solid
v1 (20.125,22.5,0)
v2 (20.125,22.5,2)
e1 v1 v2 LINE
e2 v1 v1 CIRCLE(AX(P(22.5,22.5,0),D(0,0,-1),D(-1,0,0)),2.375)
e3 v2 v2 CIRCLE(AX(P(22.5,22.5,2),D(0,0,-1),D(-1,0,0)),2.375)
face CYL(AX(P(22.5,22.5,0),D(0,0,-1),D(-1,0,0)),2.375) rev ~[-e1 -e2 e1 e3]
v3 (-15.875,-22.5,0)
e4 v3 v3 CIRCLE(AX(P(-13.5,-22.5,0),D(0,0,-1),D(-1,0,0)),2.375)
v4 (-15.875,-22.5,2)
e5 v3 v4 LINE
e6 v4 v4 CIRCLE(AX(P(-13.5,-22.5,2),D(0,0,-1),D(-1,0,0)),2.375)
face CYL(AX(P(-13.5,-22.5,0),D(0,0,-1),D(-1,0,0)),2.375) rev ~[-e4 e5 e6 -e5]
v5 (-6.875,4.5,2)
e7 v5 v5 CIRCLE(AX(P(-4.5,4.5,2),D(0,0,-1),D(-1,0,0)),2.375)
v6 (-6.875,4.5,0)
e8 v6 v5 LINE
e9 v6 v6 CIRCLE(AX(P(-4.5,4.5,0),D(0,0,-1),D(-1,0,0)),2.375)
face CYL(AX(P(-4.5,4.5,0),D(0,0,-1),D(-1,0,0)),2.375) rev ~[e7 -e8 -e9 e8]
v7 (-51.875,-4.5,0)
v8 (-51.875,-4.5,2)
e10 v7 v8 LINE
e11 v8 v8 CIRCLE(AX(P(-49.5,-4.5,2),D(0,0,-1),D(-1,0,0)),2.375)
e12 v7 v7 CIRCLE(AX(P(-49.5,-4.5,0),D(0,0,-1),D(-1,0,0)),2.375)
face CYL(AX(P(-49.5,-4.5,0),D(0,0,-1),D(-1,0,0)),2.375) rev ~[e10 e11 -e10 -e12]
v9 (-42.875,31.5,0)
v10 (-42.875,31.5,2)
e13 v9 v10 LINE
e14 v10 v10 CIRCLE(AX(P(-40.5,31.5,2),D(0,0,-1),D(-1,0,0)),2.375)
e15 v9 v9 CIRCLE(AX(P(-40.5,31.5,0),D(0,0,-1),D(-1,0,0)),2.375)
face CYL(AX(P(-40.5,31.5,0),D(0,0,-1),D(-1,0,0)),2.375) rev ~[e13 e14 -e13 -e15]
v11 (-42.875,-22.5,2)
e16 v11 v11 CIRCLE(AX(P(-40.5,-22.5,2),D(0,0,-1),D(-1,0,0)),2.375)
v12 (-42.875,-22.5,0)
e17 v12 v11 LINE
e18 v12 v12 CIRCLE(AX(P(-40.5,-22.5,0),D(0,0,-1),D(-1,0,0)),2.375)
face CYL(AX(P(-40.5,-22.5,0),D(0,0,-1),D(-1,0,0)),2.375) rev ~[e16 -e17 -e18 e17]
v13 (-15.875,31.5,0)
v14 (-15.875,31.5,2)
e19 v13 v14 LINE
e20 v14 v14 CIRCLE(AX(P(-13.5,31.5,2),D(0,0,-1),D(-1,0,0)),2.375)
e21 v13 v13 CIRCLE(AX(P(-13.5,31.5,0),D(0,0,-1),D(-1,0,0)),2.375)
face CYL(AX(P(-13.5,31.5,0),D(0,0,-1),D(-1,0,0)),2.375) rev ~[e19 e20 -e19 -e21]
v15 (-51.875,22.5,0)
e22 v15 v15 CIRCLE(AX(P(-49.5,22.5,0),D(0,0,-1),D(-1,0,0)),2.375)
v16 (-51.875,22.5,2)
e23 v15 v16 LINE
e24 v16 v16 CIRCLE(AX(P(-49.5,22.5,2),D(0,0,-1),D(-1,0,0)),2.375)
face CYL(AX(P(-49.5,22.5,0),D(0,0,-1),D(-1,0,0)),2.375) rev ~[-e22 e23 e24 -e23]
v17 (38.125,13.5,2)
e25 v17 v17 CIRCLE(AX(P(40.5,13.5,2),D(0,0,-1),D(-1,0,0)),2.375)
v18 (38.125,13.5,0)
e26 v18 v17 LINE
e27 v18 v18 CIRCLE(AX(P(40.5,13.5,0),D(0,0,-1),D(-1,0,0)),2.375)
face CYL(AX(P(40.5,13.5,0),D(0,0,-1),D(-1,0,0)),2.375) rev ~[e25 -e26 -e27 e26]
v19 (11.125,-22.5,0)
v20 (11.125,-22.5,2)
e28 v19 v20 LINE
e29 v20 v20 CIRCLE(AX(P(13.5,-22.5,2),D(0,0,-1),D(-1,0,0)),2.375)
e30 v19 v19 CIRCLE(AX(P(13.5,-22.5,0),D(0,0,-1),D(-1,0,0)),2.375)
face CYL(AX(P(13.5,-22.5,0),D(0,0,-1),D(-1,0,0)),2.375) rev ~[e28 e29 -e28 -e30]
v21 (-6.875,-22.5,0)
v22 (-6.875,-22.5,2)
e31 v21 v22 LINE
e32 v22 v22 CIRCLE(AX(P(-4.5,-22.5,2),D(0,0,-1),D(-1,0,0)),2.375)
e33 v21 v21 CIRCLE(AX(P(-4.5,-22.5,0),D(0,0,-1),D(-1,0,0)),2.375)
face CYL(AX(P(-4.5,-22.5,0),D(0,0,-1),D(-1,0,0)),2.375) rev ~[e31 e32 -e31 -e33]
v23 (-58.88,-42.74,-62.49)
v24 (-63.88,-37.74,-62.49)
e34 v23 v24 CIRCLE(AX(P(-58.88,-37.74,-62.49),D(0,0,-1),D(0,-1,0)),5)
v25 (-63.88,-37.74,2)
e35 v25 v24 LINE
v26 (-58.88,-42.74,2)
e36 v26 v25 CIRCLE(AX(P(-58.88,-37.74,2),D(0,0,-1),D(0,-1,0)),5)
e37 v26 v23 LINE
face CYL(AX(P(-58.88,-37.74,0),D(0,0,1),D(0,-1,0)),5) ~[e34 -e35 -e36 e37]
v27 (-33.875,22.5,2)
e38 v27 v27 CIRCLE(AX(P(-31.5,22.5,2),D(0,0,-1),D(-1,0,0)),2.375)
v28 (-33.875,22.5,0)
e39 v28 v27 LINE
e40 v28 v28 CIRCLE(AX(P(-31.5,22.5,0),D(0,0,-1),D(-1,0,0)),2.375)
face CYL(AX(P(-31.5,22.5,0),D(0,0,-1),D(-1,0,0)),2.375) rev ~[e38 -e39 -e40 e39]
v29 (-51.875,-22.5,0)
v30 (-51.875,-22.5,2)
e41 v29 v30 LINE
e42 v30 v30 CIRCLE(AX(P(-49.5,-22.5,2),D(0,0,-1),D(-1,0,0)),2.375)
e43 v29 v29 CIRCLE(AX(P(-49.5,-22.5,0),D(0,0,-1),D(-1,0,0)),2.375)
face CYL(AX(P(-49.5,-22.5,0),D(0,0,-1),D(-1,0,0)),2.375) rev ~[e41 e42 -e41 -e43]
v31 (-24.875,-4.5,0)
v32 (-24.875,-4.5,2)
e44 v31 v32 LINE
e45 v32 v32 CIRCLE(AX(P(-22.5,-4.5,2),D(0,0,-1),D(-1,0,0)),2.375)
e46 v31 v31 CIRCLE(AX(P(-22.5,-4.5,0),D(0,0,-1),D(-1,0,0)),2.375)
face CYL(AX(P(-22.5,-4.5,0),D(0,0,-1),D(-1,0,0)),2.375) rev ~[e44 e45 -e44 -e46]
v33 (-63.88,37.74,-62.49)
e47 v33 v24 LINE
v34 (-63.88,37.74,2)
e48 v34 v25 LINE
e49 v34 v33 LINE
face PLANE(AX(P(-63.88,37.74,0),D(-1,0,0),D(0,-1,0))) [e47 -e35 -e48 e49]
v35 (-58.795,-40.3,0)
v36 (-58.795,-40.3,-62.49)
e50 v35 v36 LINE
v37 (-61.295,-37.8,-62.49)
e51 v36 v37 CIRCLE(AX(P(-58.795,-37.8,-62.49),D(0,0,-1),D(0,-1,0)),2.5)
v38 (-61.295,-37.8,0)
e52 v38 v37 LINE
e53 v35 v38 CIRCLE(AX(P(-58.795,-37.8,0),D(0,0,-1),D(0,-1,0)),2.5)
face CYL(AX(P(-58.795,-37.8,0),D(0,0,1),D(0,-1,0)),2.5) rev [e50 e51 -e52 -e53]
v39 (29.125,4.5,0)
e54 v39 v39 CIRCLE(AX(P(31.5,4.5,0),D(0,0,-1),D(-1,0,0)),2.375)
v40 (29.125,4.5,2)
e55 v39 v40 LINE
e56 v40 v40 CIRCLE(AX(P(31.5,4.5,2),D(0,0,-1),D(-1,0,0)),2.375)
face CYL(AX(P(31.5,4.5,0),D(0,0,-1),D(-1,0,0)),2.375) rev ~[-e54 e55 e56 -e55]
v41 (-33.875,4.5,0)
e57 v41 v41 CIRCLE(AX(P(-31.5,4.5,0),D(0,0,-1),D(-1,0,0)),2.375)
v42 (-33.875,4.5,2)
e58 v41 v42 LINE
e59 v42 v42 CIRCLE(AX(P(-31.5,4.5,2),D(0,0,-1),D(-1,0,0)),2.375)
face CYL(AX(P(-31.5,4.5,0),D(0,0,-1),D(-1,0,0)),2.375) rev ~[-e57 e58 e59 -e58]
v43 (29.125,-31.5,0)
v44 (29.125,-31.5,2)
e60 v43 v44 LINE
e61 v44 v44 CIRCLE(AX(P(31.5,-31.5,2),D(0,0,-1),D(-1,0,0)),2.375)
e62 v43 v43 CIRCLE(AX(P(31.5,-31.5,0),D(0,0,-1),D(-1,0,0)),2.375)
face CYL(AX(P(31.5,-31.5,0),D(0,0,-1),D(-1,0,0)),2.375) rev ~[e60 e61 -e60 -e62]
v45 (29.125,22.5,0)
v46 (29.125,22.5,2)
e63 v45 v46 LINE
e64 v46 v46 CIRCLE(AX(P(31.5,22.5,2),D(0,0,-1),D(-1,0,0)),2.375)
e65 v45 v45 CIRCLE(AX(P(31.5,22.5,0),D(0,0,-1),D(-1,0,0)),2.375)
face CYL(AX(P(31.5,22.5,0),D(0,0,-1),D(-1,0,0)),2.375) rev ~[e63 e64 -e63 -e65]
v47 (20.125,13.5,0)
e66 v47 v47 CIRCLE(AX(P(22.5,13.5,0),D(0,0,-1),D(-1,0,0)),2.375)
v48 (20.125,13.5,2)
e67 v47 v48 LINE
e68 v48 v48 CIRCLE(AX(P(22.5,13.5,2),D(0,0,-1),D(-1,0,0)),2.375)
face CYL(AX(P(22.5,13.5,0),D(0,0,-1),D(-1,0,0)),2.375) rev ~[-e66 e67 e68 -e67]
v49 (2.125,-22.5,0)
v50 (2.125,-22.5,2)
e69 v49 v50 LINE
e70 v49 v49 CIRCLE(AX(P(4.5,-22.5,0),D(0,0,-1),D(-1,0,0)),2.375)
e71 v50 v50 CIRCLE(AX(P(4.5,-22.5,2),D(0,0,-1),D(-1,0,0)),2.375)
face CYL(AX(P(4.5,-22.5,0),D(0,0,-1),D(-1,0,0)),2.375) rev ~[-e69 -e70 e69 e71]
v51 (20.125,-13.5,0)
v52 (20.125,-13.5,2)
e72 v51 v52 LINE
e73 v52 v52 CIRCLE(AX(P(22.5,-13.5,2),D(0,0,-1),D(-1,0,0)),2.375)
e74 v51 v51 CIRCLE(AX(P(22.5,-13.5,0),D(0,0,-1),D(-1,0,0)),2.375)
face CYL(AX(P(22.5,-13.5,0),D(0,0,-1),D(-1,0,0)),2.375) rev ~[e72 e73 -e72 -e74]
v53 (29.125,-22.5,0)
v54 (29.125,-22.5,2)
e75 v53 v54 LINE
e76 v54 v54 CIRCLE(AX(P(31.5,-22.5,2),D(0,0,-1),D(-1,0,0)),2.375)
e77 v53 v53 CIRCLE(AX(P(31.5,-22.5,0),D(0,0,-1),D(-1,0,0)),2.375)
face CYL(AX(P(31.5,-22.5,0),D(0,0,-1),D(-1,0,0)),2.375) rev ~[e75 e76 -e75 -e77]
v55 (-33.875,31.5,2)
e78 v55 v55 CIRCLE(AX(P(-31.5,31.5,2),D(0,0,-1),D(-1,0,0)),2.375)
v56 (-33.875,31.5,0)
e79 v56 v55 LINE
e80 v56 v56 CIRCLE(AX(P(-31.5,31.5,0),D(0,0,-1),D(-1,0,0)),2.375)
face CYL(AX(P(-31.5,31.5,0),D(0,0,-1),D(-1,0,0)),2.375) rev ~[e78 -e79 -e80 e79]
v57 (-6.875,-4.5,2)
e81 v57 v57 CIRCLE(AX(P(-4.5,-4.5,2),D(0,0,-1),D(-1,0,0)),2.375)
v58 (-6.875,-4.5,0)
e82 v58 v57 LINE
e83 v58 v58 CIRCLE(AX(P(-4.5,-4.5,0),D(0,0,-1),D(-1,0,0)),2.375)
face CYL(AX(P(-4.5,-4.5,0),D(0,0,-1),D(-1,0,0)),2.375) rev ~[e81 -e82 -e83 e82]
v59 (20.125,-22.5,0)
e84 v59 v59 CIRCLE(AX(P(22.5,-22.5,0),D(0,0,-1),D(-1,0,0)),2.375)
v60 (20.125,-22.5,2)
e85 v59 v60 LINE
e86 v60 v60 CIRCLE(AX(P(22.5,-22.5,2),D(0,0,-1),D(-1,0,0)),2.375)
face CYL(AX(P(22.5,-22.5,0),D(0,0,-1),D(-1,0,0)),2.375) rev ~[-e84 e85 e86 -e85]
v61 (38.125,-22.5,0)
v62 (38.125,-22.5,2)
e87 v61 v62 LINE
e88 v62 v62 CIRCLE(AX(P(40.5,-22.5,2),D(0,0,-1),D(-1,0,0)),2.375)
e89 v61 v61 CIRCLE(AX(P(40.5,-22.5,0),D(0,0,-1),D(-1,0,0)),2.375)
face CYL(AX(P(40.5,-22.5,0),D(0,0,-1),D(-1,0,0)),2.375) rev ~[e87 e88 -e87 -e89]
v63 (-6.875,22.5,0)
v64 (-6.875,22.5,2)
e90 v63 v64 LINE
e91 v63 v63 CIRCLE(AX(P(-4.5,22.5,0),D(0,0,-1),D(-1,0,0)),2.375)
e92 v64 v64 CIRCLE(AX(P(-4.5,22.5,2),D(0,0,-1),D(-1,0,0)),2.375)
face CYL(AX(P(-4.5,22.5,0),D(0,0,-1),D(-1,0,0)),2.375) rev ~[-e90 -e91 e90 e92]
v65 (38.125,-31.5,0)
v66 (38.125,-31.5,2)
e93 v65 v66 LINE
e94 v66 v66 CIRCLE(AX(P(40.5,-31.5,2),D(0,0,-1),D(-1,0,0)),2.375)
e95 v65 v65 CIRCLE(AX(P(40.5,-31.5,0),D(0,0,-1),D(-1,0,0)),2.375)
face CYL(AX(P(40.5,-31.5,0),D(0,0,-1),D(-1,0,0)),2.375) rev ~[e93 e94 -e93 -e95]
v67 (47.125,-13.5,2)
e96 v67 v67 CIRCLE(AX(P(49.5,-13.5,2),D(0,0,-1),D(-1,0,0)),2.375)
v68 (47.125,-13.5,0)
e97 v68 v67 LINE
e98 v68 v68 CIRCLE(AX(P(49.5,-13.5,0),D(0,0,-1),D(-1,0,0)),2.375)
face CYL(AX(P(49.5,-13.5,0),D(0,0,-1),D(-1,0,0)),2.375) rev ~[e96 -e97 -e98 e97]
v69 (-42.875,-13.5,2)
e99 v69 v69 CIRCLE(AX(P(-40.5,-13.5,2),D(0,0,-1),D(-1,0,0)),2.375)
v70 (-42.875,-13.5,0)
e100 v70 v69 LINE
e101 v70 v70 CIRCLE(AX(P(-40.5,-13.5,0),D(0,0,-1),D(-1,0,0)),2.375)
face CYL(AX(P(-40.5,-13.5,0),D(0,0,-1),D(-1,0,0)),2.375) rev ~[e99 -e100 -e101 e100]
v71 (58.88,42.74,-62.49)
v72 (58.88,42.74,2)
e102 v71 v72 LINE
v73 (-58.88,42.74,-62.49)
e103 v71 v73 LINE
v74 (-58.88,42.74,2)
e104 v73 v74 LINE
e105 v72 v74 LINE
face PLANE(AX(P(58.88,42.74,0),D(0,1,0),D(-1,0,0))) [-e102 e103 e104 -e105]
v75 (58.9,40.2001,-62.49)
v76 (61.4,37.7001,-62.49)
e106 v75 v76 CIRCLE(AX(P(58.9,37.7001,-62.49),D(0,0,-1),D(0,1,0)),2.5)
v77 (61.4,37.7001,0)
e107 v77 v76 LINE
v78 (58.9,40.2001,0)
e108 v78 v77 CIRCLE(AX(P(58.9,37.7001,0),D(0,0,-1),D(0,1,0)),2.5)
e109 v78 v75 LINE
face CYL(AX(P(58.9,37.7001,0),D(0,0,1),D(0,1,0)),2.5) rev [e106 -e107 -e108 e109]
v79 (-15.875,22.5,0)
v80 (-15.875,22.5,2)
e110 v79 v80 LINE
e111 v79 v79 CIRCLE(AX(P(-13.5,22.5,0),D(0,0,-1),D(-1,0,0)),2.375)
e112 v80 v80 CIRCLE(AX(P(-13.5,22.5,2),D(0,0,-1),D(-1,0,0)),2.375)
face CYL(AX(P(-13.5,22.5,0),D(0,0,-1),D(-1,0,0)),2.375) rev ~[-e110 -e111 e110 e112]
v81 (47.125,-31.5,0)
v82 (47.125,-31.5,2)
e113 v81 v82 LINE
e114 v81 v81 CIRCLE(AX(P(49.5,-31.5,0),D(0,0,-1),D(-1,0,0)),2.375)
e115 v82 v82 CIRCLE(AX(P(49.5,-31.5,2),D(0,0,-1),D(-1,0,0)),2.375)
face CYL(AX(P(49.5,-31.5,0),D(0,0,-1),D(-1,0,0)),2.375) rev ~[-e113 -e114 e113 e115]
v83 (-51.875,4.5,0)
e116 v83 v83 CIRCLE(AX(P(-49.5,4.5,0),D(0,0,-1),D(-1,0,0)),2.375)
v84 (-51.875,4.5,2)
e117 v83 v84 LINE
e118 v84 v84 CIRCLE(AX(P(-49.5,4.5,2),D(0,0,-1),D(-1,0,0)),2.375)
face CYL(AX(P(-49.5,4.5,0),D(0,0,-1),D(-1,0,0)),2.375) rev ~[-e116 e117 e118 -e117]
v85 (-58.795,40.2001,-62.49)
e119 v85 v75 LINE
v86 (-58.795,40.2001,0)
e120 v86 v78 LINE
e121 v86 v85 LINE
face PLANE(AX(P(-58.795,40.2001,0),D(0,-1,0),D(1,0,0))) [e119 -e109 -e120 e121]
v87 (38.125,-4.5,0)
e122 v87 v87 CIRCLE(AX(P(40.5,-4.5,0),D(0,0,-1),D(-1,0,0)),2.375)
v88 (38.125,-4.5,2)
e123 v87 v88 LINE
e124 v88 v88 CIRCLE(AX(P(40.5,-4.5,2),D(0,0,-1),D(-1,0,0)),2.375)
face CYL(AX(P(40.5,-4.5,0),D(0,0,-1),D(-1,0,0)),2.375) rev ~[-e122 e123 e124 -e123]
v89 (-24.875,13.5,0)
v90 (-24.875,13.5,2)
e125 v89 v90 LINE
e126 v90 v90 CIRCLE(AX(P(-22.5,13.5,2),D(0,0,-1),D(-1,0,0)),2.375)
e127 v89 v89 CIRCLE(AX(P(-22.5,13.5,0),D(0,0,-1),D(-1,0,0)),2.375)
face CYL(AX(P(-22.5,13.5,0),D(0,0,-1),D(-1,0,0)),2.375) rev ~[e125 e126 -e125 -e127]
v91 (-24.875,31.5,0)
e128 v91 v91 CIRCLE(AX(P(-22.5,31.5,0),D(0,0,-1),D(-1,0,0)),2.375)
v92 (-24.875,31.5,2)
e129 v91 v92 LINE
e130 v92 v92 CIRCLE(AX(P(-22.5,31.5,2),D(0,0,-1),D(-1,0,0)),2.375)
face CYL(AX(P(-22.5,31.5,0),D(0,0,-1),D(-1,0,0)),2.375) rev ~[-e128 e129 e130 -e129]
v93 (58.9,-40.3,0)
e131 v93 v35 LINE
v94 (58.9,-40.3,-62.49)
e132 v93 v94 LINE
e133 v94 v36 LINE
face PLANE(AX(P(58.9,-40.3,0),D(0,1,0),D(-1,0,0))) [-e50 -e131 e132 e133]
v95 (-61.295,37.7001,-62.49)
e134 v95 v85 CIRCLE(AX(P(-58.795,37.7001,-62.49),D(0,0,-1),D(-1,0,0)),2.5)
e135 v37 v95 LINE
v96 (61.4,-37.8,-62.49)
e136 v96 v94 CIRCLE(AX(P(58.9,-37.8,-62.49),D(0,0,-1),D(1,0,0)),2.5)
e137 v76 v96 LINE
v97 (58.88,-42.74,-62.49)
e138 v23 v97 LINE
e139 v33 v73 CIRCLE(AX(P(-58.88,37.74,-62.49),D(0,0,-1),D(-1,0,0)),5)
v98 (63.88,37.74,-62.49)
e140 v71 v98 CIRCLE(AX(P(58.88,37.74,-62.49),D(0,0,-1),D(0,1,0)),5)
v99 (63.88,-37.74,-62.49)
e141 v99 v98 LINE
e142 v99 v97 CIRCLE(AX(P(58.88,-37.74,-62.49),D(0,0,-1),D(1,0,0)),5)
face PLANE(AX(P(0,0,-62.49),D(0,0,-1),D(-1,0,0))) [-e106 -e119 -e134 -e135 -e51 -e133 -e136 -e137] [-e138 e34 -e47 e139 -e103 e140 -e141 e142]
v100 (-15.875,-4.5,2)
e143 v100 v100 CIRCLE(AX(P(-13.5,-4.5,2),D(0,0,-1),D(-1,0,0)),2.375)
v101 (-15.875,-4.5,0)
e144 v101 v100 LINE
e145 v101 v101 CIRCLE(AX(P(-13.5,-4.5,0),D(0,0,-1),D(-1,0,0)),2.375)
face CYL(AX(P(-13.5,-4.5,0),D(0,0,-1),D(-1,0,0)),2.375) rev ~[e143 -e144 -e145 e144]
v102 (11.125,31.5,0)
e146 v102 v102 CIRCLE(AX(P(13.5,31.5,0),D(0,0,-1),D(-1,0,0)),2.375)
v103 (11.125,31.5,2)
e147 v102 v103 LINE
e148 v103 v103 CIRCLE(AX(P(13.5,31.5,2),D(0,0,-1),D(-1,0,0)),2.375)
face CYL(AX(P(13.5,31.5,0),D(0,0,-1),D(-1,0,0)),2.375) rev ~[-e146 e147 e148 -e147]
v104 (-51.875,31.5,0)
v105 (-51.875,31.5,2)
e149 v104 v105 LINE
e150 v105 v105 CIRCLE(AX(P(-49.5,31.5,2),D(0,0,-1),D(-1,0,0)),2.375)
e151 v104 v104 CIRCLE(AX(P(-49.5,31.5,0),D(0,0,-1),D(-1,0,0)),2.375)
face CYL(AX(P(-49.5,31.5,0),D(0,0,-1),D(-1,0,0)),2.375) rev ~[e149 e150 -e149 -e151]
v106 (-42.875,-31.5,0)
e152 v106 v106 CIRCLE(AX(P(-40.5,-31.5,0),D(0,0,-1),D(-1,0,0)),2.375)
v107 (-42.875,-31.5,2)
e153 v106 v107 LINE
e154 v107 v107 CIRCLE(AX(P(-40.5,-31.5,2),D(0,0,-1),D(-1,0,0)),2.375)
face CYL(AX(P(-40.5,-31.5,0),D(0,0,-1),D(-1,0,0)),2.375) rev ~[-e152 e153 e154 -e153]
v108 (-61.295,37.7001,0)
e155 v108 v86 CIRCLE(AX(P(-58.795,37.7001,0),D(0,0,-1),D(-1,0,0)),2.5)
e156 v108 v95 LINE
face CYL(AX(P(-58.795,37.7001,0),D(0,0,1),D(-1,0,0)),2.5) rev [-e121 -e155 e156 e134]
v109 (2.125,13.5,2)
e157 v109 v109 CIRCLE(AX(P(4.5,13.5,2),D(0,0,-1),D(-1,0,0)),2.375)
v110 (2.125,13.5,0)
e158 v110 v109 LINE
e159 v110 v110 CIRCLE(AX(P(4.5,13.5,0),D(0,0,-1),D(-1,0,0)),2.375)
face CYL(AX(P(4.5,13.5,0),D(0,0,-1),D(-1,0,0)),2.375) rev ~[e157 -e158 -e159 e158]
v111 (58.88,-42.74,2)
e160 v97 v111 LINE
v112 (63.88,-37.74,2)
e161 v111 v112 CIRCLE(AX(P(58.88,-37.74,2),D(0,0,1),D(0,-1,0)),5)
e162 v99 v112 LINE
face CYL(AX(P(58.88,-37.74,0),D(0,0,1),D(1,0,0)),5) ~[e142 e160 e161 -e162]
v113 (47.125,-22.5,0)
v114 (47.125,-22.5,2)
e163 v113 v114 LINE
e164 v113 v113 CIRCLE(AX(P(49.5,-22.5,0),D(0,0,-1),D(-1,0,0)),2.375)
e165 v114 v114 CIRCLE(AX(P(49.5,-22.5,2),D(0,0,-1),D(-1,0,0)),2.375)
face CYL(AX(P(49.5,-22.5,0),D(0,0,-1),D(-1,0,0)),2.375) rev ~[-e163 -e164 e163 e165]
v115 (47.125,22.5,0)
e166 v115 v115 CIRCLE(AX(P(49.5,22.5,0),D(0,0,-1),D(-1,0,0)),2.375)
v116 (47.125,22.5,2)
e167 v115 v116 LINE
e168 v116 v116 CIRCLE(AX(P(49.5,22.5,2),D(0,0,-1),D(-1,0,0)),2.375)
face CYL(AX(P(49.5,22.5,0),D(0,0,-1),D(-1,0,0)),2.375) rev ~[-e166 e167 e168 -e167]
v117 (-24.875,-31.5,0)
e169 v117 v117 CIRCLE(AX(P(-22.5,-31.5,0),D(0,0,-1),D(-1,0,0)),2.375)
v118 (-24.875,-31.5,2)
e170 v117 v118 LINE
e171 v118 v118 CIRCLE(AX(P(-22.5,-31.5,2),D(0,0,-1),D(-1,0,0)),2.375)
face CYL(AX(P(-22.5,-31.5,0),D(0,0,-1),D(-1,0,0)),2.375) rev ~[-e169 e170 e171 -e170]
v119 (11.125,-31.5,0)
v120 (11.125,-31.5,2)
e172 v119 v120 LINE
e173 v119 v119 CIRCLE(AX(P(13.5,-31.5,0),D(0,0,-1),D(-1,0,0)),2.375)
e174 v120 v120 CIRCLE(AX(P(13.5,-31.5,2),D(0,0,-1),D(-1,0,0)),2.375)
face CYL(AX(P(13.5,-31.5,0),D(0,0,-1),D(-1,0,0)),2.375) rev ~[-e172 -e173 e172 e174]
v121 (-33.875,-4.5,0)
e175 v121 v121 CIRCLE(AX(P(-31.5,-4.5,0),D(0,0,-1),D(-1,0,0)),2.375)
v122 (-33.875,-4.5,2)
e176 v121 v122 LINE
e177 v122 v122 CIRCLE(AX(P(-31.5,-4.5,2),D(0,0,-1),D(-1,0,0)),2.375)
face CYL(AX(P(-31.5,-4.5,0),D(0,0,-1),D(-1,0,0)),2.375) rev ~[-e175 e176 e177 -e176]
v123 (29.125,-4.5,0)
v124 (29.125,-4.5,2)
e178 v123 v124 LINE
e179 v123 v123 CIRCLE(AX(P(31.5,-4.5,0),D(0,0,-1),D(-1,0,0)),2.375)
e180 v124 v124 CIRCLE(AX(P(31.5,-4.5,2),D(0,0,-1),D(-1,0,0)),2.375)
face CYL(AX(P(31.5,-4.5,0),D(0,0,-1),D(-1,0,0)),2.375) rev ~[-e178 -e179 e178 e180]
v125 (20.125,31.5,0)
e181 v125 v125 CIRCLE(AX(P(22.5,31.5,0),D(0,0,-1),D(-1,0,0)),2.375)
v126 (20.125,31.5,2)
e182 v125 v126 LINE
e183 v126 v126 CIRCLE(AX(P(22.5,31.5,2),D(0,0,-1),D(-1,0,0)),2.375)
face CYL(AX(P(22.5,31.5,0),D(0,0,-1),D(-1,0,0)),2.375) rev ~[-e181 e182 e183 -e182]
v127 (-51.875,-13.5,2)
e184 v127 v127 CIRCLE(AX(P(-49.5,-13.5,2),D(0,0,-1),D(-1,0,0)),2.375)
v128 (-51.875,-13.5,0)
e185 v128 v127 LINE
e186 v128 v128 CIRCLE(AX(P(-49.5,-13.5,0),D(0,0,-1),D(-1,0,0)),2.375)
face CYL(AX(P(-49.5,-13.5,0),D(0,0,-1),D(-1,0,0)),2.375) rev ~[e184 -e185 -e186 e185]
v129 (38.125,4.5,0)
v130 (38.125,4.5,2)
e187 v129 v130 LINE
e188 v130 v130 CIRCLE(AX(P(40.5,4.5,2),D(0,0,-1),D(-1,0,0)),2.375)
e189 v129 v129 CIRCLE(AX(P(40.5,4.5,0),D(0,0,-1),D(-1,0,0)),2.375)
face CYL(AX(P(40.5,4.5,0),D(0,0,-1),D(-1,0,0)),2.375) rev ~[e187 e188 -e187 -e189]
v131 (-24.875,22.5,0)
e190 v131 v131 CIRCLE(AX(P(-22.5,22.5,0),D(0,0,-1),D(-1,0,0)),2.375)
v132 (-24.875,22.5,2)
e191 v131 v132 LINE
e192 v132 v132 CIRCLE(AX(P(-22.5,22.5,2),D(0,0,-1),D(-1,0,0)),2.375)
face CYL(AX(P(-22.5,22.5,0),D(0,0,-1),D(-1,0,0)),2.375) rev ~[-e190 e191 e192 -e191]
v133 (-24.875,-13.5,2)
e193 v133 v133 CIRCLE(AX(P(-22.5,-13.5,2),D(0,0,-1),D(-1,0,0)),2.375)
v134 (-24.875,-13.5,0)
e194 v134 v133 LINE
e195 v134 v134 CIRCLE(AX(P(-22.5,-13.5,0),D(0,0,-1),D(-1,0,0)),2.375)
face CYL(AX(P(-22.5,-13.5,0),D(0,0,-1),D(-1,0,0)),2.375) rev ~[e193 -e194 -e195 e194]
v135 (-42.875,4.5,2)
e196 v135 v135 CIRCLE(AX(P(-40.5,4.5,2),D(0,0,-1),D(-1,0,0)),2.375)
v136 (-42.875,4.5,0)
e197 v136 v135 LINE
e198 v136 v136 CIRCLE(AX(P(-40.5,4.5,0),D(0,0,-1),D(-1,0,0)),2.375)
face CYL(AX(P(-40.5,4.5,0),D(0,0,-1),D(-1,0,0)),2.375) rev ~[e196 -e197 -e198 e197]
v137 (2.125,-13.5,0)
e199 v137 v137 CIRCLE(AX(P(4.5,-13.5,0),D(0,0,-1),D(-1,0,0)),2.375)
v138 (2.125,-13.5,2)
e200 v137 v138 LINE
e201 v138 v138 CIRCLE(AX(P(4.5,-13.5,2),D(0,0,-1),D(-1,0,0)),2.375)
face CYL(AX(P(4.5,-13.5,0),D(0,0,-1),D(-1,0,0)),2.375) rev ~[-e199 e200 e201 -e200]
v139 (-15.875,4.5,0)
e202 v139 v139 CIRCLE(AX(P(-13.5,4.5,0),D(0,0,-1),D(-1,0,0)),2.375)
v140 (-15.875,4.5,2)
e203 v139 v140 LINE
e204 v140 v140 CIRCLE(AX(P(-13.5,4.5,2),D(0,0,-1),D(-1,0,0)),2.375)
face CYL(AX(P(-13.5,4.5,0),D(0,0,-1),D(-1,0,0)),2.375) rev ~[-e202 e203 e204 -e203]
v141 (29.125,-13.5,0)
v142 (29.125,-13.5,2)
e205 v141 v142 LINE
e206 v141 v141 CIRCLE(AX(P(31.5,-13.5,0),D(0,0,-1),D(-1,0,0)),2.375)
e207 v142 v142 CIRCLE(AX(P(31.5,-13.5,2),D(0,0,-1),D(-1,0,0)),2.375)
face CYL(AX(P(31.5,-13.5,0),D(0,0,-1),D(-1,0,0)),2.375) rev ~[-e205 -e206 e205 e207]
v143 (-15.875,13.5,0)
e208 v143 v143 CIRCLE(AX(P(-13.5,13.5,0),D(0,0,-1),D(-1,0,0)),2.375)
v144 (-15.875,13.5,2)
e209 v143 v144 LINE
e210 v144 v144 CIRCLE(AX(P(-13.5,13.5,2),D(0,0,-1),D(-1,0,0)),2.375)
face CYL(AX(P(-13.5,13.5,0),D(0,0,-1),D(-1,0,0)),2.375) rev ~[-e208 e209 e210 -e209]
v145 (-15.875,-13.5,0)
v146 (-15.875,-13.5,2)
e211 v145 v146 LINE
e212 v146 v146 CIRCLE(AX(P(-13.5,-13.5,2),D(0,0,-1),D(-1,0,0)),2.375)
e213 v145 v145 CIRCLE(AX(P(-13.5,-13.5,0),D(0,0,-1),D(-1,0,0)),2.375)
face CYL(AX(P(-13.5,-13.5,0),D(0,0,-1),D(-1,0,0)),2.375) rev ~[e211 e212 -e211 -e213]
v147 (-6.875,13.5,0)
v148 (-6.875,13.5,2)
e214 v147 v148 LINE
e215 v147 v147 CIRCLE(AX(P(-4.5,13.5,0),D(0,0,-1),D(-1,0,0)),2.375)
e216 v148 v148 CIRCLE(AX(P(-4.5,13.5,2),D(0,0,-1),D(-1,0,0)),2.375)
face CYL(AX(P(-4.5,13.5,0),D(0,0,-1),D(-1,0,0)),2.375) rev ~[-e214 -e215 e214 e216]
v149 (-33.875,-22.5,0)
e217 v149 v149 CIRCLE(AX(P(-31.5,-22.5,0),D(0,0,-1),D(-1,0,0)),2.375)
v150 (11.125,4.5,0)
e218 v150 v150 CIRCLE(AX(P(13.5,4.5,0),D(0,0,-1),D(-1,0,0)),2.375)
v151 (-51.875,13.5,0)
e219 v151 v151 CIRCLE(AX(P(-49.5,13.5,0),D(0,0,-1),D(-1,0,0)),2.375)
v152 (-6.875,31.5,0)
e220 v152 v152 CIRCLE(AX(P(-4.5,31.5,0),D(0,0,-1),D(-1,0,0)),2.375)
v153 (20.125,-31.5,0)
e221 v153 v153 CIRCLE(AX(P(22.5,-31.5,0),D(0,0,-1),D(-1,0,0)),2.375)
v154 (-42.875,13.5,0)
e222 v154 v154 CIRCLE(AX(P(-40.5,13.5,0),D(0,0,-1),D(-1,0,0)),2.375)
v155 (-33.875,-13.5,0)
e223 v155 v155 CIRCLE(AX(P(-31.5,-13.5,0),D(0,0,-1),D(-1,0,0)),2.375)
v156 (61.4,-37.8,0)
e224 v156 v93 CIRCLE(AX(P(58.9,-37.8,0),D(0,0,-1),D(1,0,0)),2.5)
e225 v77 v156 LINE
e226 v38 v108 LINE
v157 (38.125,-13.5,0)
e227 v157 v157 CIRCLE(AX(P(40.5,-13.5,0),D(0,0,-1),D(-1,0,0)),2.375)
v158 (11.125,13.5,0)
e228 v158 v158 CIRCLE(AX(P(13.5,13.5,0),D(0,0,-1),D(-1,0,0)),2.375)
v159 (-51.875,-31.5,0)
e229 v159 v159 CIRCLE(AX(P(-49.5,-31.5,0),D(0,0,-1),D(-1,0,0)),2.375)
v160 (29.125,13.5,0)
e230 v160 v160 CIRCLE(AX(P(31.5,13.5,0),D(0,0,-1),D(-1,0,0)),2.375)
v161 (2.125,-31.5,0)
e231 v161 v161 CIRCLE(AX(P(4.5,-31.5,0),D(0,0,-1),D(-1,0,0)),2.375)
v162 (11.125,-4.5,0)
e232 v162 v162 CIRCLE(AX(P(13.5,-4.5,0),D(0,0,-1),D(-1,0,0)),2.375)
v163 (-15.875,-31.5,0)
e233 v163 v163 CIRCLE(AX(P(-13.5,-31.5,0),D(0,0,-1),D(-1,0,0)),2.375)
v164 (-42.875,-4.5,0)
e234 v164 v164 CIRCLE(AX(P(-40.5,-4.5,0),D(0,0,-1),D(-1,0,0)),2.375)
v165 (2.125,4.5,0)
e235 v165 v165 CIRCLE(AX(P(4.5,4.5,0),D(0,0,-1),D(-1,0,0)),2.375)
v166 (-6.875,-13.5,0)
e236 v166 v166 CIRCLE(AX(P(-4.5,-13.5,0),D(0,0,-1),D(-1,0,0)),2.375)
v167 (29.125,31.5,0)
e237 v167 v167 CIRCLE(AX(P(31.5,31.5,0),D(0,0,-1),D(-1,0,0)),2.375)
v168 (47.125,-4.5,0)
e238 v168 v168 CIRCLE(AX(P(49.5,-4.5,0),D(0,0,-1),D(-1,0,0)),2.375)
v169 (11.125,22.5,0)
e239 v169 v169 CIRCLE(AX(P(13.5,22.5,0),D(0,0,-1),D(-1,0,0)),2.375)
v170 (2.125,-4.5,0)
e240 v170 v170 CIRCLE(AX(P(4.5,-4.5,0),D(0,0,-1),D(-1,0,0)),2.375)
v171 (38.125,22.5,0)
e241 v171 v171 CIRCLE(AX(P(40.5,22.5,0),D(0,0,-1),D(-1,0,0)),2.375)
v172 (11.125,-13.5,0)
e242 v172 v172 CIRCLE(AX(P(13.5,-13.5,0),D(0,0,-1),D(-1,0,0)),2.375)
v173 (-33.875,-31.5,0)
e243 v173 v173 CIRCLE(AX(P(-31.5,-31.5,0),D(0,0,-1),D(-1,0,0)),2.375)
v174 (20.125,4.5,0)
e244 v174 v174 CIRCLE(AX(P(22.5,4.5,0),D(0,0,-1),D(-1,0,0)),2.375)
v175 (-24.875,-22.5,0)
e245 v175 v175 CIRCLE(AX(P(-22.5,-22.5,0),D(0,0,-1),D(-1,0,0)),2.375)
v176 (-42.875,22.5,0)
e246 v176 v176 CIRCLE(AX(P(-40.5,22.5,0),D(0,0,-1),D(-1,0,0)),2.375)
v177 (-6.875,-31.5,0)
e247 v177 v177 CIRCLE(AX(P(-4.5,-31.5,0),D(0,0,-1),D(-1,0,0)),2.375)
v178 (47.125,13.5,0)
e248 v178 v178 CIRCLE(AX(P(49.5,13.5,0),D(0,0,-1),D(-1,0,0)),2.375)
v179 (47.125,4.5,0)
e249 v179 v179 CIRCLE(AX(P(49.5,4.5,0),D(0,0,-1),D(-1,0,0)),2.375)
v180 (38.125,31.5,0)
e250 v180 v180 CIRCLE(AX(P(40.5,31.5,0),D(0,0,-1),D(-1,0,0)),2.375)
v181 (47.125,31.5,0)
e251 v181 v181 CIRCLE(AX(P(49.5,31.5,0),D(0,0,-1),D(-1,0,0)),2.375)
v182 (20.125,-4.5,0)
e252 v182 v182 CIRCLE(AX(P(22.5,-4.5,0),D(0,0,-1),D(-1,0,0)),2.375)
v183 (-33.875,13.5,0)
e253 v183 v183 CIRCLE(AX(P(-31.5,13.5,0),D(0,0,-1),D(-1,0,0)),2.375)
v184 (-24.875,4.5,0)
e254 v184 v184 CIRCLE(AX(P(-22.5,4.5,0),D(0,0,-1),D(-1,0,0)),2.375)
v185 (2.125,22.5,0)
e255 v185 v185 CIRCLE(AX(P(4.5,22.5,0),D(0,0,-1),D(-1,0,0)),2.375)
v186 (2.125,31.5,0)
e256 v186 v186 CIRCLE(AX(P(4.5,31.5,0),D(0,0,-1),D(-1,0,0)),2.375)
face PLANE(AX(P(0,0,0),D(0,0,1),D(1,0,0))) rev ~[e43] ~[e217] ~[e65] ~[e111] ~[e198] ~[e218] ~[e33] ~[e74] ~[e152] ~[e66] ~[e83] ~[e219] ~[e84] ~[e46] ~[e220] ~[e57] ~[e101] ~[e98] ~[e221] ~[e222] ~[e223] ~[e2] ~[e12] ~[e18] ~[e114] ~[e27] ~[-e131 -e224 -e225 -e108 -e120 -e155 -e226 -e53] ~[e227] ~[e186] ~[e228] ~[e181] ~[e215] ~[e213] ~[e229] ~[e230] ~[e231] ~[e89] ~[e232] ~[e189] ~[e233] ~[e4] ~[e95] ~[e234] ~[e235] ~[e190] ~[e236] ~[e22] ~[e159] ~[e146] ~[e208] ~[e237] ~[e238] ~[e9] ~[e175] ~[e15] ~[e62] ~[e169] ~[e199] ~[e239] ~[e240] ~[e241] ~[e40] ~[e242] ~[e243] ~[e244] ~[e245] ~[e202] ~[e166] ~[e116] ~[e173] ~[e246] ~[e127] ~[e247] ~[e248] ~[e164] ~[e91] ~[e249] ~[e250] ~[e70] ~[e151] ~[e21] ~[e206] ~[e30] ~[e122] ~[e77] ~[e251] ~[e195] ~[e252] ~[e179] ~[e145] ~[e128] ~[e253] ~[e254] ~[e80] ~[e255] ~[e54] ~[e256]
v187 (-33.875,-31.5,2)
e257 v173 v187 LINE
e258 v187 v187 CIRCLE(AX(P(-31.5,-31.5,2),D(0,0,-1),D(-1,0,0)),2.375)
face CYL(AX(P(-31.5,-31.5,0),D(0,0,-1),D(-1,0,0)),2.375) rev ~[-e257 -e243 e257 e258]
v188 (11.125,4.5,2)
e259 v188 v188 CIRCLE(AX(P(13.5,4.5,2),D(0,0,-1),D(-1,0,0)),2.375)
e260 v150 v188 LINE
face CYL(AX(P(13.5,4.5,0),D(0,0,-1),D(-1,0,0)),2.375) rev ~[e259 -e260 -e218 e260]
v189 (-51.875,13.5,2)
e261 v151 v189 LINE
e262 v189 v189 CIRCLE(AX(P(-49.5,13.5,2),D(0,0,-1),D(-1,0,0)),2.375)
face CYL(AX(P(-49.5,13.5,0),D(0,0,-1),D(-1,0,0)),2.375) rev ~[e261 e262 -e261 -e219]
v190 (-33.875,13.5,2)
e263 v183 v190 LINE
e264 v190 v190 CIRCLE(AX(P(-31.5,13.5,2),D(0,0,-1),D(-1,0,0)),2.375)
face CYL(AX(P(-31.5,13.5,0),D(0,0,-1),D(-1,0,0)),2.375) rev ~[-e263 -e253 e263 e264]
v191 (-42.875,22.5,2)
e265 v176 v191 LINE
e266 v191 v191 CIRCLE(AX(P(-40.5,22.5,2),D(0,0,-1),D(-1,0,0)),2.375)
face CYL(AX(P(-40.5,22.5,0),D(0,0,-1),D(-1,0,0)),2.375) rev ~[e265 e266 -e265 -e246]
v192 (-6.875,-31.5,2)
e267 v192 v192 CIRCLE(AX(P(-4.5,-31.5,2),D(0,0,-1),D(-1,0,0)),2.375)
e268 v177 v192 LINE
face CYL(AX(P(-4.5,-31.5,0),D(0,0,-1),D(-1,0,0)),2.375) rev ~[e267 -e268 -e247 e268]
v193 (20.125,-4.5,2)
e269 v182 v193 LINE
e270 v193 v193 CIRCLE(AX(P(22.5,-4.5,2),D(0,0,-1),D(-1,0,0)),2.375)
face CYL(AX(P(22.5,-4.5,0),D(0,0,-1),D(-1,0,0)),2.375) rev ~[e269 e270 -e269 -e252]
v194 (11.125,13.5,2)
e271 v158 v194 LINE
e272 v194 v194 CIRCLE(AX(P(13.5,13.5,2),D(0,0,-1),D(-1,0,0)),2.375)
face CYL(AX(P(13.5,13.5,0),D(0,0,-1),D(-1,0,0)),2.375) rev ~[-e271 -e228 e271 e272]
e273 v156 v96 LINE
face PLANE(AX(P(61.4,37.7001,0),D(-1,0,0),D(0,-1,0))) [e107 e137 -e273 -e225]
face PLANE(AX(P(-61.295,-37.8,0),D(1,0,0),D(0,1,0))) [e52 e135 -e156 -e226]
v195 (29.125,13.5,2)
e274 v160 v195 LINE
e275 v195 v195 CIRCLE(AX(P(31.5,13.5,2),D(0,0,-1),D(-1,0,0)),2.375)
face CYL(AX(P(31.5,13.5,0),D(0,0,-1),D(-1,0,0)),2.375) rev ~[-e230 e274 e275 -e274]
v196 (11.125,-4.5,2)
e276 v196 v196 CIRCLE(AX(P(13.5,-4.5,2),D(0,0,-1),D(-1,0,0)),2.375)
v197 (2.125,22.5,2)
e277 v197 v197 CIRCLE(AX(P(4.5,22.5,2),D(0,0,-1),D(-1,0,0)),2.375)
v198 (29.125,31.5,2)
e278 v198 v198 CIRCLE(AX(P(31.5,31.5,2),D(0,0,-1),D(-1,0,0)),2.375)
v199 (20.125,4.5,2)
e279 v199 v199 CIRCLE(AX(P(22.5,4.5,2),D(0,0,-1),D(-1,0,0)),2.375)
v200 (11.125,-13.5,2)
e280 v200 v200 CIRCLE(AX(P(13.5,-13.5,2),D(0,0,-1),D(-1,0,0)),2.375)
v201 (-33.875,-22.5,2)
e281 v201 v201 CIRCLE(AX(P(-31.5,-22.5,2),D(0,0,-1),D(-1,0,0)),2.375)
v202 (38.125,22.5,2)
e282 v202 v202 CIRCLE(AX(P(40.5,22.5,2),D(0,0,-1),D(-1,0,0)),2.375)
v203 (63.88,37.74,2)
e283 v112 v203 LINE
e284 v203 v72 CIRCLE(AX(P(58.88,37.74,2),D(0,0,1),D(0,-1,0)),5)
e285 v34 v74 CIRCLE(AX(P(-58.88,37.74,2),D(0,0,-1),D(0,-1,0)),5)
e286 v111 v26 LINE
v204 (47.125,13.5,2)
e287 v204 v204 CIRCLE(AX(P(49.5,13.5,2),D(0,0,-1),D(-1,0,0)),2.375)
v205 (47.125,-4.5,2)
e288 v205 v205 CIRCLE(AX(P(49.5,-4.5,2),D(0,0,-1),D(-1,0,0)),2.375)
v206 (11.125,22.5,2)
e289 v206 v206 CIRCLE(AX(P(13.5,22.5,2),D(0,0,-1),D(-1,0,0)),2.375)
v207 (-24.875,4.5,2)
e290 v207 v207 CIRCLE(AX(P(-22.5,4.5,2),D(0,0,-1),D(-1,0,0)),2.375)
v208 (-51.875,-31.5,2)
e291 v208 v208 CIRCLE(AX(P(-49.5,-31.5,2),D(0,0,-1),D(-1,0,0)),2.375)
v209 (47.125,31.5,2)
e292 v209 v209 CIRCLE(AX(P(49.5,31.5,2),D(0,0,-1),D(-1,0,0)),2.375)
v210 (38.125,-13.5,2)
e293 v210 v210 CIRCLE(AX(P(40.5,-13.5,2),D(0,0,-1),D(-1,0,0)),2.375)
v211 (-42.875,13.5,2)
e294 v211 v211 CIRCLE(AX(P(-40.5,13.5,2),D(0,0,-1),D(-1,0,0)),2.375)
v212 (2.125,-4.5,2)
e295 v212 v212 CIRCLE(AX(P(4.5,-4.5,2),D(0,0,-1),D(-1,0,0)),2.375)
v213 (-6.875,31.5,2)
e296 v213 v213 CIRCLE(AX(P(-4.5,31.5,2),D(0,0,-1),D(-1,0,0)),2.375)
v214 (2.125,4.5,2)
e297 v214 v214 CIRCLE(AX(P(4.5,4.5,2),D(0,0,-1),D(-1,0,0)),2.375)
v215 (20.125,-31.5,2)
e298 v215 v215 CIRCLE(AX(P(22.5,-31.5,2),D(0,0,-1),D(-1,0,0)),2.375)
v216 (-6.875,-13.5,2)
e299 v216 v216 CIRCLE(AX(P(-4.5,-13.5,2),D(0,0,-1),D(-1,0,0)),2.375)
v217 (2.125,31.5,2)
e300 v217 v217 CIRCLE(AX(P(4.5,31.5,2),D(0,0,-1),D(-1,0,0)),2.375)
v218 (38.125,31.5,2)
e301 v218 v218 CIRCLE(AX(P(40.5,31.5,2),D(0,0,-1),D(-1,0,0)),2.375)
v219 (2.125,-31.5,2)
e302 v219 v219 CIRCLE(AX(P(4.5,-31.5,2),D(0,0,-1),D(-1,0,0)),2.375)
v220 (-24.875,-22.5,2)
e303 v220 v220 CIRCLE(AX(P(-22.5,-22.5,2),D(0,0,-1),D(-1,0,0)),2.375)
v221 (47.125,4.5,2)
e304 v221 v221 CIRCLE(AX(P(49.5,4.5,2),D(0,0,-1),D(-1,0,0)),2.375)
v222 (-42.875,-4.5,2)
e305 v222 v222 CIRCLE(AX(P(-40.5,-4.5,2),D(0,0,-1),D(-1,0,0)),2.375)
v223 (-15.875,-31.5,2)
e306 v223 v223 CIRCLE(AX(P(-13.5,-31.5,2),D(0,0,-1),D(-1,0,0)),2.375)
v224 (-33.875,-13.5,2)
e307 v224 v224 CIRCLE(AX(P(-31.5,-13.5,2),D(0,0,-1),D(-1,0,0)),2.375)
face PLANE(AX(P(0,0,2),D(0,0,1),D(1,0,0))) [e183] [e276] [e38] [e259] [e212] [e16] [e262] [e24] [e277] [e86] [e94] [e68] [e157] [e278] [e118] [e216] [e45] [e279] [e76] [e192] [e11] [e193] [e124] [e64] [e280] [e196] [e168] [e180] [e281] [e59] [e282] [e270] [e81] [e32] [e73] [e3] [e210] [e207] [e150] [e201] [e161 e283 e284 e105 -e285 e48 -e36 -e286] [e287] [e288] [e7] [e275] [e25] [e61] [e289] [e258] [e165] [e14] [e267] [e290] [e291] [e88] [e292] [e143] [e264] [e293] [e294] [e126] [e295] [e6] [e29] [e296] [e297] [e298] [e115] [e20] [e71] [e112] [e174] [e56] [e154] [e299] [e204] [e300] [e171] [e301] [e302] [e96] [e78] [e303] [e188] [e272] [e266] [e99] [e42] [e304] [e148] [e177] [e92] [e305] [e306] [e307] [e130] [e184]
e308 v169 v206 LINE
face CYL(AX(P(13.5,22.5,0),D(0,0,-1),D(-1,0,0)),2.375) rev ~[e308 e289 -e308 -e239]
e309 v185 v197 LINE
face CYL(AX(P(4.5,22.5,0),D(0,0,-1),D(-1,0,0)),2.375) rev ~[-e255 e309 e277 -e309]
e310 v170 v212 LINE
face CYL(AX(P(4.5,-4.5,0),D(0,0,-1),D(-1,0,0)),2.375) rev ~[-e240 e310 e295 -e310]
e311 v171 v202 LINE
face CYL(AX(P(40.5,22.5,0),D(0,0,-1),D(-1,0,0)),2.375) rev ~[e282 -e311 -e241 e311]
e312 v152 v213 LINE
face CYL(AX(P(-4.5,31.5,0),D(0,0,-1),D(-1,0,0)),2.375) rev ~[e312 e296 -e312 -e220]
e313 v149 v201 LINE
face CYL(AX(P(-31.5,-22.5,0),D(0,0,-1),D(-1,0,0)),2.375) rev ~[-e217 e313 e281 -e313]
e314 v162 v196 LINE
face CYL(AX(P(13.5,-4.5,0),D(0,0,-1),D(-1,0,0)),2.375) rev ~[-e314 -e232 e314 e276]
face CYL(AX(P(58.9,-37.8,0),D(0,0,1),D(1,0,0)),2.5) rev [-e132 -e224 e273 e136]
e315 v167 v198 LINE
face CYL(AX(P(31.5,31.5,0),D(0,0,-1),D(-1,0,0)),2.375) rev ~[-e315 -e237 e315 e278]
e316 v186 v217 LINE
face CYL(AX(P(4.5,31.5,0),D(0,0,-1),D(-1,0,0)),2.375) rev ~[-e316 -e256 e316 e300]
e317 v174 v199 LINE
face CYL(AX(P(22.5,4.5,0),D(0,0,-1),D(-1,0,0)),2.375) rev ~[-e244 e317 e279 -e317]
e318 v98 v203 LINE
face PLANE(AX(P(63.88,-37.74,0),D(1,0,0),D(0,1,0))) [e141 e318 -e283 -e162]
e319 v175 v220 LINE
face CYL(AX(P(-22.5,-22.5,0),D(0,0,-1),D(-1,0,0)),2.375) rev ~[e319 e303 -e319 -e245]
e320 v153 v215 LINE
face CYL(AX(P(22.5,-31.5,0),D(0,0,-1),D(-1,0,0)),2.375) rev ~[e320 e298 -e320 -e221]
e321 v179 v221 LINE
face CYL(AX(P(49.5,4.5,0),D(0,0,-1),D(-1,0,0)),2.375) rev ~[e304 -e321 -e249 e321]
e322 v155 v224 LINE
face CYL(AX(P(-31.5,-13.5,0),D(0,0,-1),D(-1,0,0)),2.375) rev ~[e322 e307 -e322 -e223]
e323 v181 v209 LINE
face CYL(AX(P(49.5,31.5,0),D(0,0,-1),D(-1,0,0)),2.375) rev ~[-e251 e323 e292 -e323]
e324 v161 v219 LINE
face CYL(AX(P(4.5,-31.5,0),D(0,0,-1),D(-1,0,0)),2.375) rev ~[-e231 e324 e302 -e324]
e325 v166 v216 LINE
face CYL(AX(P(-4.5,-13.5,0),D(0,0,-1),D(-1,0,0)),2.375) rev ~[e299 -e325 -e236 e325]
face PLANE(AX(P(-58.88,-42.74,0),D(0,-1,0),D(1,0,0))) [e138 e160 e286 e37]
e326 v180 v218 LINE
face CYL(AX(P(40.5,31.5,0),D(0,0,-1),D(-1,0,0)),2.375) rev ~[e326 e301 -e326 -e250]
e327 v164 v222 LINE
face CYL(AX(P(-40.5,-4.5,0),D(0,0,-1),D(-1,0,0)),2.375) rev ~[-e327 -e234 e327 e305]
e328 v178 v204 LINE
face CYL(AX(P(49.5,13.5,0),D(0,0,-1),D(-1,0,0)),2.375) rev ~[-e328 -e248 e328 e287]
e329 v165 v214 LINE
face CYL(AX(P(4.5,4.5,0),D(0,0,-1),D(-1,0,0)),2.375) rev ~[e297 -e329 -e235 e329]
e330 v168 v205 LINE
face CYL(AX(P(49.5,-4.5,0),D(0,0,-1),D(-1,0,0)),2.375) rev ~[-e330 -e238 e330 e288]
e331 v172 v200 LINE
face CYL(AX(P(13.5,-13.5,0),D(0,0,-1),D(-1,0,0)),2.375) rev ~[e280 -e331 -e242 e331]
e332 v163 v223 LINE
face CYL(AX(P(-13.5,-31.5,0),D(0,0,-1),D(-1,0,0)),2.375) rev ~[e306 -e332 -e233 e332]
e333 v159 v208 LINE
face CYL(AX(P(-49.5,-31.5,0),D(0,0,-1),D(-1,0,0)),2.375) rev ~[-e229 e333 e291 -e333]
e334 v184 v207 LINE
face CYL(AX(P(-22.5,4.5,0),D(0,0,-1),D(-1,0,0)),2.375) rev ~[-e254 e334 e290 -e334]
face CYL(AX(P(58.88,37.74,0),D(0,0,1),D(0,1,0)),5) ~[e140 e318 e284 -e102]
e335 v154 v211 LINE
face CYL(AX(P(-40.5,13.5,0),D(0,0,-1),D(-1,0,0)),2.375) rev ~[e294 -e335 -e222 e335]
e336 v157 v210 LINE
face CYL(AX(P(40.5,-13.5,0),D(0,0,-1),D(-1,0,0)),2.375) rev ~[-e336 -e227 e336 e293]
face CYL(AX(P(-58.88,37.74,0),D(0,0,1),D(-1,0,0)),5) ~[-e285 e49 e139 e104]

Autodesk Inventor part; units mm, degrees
ref_plane "YZ Plane" through (0, 0, 0) normal (1, 0, 0) x (0, 1, 0)
ref_plane "XZ Plane" through (0, 0, 0) normal (0, 1, 0) x (-1, 0, 0)
ref_plane "XY Plane" through (0, 0, 0) normal (0, 0, 1) x (1, 0, 0)
sketch "Sketch1" plane through (0, 0, 0) normal (0, 0, 1) x (1, 0, 0)
  arc A0 (-59.9, 42.7) -> (-63.8, 38.8) centre (-59.9, 38.8) ccw projected
  arc A1 (63.8, 38.8) -> (59.9, 42.7) centre (59.9, 38.8) ccw projected
  arc A2 (59.9, -42.7) -> (63.8, -38.8) centre (59.9, -38.8) ccw projected
  arc A3 (59.9, -42.8) -> (63.9, -38.8) centre (59.9, -38.8) ccw projected
  arc A4 (-63.9, -38.8) -> (-59.9, -42.8) centre (-59.9, -38.8) ccw projected
  line L0 (-63.88, -42.74) -> (63.88, -42.74)
  line L1 (63.88, -42.74) -> (63.88, 42.74)
  line L2 (63.88, 42.74) -> (-63.88, 42.74)
  line L3 (-63.88, 42.74) -> (-63.88, -42.74)
  line L4 (-63.88, -42.74) -> (63.88, 42.74) construction
  line L5 (63.88, -42.74) -> (-63.88, 42.74) construction
  point P0 (0, 0)
  dimension "d30" = 127.76
  dimension "d31" = 85.48
extrude "Extrusion1" add sketch "Sketch1" along normal blind 2
fillet "Fillet1" radius 5 4 edges at (63.88, 42.74, 1) (-63.88, 42.74, 1) (63.88, -42.74, 1) (-63.88, -42.74, 1)
sketch "Sketch2" plane through (0, 0, 0) normal (0, 0, -1) x (-1, 0, 0)
  line L0 (66.5944, -13.2971) -> (66.5944, -103.1184) construction
  circle A0 centre (49.5, 31.5) radius 2.375
  line L1 (63.88, 37.74) -> (63.88, -37.74) projected
  line L2 (-58.88, 42.74) -> (58.88, 42.74) projected
  dimension "d35" = 4.75
  dimension "d36" = 14.38
  dimension "d37" = 11.24
extrude "Extrusion2" cut sketch "Sketch2" against normal blind 2
sketch "Sketch3" plane through (0, 0, 0) normal (0, 0, -1) x (-1, 0, 0)
  line L0 (58.795, 40.2001) -> (-58.9, 40.2001)
  arc A0 (-58.9, 40.2001) -> (-61.4, 37.7001) centre (-58.9, 37.7001) ccw
  line L1 (-61.4, 37.7001) -> (-61.4, -37.8)
  arc A1 (-61.4, -37.8) -> (-58.9, -40.3) centre (-58.9, -37.8) ccw
  line L2 (-58.9, -40.3) -> (58.795, -40.3)
  arc A2 (58.795, -40.3) -> (61.295, -37.8) centre (58.795, -37.8) ccw
  line L3 (61.295, -37.8) -> (61.295, 37.7001)
  arc A3 (61.295, 37.7001) -> (58.795, 40.2001) centre (58.795, 37.7001) ccw
  circle A4 centre (49.5, 31.5) radius 2.375 projected
  arc A5 (58.88, -42.74) -> (63.88, -37.74) centre (58.88, -37.74) ccw projected
  line L4 (63.88, 37.74) -> (63.88, -37.74) projected
  arc A6 (63.88, 37.74) -> (58.88, 42.74) centre (58.88, 37.74) ccw projected
  line L5 (-58.88, 42.74) -> (58.88, 42.74) projected
  arc A7 (-58.88, 42.74) -> (-63.88, 37.74) centre (-58.88, 37.74) ccw projected
  line L6 (-63.88, -37.74) -> (-63.88, 37.74) projected
  arc A8 (-63.88, -37.74) -> (-58.88, -42.74) centre (-58.88, -37.74) ccw projected
  line L7 (58.88, -42.74) -> (-58.88, -42.74) projected
  point P0 (0, 0)
extrude "Extrusion3" add sketch "Sketch3" along normal blind 62.49 contours L7 A8 L6 A7 L5 A6 L4 A5
pattern_linear "Rectangular Pattern1" count 12 spacing 9 along (1, 0, 0) count 8 spacing 9 along (0, -1, 0) of "Extrusion2"
properties part number "00_Rack_Eppendorf_Tubes"
